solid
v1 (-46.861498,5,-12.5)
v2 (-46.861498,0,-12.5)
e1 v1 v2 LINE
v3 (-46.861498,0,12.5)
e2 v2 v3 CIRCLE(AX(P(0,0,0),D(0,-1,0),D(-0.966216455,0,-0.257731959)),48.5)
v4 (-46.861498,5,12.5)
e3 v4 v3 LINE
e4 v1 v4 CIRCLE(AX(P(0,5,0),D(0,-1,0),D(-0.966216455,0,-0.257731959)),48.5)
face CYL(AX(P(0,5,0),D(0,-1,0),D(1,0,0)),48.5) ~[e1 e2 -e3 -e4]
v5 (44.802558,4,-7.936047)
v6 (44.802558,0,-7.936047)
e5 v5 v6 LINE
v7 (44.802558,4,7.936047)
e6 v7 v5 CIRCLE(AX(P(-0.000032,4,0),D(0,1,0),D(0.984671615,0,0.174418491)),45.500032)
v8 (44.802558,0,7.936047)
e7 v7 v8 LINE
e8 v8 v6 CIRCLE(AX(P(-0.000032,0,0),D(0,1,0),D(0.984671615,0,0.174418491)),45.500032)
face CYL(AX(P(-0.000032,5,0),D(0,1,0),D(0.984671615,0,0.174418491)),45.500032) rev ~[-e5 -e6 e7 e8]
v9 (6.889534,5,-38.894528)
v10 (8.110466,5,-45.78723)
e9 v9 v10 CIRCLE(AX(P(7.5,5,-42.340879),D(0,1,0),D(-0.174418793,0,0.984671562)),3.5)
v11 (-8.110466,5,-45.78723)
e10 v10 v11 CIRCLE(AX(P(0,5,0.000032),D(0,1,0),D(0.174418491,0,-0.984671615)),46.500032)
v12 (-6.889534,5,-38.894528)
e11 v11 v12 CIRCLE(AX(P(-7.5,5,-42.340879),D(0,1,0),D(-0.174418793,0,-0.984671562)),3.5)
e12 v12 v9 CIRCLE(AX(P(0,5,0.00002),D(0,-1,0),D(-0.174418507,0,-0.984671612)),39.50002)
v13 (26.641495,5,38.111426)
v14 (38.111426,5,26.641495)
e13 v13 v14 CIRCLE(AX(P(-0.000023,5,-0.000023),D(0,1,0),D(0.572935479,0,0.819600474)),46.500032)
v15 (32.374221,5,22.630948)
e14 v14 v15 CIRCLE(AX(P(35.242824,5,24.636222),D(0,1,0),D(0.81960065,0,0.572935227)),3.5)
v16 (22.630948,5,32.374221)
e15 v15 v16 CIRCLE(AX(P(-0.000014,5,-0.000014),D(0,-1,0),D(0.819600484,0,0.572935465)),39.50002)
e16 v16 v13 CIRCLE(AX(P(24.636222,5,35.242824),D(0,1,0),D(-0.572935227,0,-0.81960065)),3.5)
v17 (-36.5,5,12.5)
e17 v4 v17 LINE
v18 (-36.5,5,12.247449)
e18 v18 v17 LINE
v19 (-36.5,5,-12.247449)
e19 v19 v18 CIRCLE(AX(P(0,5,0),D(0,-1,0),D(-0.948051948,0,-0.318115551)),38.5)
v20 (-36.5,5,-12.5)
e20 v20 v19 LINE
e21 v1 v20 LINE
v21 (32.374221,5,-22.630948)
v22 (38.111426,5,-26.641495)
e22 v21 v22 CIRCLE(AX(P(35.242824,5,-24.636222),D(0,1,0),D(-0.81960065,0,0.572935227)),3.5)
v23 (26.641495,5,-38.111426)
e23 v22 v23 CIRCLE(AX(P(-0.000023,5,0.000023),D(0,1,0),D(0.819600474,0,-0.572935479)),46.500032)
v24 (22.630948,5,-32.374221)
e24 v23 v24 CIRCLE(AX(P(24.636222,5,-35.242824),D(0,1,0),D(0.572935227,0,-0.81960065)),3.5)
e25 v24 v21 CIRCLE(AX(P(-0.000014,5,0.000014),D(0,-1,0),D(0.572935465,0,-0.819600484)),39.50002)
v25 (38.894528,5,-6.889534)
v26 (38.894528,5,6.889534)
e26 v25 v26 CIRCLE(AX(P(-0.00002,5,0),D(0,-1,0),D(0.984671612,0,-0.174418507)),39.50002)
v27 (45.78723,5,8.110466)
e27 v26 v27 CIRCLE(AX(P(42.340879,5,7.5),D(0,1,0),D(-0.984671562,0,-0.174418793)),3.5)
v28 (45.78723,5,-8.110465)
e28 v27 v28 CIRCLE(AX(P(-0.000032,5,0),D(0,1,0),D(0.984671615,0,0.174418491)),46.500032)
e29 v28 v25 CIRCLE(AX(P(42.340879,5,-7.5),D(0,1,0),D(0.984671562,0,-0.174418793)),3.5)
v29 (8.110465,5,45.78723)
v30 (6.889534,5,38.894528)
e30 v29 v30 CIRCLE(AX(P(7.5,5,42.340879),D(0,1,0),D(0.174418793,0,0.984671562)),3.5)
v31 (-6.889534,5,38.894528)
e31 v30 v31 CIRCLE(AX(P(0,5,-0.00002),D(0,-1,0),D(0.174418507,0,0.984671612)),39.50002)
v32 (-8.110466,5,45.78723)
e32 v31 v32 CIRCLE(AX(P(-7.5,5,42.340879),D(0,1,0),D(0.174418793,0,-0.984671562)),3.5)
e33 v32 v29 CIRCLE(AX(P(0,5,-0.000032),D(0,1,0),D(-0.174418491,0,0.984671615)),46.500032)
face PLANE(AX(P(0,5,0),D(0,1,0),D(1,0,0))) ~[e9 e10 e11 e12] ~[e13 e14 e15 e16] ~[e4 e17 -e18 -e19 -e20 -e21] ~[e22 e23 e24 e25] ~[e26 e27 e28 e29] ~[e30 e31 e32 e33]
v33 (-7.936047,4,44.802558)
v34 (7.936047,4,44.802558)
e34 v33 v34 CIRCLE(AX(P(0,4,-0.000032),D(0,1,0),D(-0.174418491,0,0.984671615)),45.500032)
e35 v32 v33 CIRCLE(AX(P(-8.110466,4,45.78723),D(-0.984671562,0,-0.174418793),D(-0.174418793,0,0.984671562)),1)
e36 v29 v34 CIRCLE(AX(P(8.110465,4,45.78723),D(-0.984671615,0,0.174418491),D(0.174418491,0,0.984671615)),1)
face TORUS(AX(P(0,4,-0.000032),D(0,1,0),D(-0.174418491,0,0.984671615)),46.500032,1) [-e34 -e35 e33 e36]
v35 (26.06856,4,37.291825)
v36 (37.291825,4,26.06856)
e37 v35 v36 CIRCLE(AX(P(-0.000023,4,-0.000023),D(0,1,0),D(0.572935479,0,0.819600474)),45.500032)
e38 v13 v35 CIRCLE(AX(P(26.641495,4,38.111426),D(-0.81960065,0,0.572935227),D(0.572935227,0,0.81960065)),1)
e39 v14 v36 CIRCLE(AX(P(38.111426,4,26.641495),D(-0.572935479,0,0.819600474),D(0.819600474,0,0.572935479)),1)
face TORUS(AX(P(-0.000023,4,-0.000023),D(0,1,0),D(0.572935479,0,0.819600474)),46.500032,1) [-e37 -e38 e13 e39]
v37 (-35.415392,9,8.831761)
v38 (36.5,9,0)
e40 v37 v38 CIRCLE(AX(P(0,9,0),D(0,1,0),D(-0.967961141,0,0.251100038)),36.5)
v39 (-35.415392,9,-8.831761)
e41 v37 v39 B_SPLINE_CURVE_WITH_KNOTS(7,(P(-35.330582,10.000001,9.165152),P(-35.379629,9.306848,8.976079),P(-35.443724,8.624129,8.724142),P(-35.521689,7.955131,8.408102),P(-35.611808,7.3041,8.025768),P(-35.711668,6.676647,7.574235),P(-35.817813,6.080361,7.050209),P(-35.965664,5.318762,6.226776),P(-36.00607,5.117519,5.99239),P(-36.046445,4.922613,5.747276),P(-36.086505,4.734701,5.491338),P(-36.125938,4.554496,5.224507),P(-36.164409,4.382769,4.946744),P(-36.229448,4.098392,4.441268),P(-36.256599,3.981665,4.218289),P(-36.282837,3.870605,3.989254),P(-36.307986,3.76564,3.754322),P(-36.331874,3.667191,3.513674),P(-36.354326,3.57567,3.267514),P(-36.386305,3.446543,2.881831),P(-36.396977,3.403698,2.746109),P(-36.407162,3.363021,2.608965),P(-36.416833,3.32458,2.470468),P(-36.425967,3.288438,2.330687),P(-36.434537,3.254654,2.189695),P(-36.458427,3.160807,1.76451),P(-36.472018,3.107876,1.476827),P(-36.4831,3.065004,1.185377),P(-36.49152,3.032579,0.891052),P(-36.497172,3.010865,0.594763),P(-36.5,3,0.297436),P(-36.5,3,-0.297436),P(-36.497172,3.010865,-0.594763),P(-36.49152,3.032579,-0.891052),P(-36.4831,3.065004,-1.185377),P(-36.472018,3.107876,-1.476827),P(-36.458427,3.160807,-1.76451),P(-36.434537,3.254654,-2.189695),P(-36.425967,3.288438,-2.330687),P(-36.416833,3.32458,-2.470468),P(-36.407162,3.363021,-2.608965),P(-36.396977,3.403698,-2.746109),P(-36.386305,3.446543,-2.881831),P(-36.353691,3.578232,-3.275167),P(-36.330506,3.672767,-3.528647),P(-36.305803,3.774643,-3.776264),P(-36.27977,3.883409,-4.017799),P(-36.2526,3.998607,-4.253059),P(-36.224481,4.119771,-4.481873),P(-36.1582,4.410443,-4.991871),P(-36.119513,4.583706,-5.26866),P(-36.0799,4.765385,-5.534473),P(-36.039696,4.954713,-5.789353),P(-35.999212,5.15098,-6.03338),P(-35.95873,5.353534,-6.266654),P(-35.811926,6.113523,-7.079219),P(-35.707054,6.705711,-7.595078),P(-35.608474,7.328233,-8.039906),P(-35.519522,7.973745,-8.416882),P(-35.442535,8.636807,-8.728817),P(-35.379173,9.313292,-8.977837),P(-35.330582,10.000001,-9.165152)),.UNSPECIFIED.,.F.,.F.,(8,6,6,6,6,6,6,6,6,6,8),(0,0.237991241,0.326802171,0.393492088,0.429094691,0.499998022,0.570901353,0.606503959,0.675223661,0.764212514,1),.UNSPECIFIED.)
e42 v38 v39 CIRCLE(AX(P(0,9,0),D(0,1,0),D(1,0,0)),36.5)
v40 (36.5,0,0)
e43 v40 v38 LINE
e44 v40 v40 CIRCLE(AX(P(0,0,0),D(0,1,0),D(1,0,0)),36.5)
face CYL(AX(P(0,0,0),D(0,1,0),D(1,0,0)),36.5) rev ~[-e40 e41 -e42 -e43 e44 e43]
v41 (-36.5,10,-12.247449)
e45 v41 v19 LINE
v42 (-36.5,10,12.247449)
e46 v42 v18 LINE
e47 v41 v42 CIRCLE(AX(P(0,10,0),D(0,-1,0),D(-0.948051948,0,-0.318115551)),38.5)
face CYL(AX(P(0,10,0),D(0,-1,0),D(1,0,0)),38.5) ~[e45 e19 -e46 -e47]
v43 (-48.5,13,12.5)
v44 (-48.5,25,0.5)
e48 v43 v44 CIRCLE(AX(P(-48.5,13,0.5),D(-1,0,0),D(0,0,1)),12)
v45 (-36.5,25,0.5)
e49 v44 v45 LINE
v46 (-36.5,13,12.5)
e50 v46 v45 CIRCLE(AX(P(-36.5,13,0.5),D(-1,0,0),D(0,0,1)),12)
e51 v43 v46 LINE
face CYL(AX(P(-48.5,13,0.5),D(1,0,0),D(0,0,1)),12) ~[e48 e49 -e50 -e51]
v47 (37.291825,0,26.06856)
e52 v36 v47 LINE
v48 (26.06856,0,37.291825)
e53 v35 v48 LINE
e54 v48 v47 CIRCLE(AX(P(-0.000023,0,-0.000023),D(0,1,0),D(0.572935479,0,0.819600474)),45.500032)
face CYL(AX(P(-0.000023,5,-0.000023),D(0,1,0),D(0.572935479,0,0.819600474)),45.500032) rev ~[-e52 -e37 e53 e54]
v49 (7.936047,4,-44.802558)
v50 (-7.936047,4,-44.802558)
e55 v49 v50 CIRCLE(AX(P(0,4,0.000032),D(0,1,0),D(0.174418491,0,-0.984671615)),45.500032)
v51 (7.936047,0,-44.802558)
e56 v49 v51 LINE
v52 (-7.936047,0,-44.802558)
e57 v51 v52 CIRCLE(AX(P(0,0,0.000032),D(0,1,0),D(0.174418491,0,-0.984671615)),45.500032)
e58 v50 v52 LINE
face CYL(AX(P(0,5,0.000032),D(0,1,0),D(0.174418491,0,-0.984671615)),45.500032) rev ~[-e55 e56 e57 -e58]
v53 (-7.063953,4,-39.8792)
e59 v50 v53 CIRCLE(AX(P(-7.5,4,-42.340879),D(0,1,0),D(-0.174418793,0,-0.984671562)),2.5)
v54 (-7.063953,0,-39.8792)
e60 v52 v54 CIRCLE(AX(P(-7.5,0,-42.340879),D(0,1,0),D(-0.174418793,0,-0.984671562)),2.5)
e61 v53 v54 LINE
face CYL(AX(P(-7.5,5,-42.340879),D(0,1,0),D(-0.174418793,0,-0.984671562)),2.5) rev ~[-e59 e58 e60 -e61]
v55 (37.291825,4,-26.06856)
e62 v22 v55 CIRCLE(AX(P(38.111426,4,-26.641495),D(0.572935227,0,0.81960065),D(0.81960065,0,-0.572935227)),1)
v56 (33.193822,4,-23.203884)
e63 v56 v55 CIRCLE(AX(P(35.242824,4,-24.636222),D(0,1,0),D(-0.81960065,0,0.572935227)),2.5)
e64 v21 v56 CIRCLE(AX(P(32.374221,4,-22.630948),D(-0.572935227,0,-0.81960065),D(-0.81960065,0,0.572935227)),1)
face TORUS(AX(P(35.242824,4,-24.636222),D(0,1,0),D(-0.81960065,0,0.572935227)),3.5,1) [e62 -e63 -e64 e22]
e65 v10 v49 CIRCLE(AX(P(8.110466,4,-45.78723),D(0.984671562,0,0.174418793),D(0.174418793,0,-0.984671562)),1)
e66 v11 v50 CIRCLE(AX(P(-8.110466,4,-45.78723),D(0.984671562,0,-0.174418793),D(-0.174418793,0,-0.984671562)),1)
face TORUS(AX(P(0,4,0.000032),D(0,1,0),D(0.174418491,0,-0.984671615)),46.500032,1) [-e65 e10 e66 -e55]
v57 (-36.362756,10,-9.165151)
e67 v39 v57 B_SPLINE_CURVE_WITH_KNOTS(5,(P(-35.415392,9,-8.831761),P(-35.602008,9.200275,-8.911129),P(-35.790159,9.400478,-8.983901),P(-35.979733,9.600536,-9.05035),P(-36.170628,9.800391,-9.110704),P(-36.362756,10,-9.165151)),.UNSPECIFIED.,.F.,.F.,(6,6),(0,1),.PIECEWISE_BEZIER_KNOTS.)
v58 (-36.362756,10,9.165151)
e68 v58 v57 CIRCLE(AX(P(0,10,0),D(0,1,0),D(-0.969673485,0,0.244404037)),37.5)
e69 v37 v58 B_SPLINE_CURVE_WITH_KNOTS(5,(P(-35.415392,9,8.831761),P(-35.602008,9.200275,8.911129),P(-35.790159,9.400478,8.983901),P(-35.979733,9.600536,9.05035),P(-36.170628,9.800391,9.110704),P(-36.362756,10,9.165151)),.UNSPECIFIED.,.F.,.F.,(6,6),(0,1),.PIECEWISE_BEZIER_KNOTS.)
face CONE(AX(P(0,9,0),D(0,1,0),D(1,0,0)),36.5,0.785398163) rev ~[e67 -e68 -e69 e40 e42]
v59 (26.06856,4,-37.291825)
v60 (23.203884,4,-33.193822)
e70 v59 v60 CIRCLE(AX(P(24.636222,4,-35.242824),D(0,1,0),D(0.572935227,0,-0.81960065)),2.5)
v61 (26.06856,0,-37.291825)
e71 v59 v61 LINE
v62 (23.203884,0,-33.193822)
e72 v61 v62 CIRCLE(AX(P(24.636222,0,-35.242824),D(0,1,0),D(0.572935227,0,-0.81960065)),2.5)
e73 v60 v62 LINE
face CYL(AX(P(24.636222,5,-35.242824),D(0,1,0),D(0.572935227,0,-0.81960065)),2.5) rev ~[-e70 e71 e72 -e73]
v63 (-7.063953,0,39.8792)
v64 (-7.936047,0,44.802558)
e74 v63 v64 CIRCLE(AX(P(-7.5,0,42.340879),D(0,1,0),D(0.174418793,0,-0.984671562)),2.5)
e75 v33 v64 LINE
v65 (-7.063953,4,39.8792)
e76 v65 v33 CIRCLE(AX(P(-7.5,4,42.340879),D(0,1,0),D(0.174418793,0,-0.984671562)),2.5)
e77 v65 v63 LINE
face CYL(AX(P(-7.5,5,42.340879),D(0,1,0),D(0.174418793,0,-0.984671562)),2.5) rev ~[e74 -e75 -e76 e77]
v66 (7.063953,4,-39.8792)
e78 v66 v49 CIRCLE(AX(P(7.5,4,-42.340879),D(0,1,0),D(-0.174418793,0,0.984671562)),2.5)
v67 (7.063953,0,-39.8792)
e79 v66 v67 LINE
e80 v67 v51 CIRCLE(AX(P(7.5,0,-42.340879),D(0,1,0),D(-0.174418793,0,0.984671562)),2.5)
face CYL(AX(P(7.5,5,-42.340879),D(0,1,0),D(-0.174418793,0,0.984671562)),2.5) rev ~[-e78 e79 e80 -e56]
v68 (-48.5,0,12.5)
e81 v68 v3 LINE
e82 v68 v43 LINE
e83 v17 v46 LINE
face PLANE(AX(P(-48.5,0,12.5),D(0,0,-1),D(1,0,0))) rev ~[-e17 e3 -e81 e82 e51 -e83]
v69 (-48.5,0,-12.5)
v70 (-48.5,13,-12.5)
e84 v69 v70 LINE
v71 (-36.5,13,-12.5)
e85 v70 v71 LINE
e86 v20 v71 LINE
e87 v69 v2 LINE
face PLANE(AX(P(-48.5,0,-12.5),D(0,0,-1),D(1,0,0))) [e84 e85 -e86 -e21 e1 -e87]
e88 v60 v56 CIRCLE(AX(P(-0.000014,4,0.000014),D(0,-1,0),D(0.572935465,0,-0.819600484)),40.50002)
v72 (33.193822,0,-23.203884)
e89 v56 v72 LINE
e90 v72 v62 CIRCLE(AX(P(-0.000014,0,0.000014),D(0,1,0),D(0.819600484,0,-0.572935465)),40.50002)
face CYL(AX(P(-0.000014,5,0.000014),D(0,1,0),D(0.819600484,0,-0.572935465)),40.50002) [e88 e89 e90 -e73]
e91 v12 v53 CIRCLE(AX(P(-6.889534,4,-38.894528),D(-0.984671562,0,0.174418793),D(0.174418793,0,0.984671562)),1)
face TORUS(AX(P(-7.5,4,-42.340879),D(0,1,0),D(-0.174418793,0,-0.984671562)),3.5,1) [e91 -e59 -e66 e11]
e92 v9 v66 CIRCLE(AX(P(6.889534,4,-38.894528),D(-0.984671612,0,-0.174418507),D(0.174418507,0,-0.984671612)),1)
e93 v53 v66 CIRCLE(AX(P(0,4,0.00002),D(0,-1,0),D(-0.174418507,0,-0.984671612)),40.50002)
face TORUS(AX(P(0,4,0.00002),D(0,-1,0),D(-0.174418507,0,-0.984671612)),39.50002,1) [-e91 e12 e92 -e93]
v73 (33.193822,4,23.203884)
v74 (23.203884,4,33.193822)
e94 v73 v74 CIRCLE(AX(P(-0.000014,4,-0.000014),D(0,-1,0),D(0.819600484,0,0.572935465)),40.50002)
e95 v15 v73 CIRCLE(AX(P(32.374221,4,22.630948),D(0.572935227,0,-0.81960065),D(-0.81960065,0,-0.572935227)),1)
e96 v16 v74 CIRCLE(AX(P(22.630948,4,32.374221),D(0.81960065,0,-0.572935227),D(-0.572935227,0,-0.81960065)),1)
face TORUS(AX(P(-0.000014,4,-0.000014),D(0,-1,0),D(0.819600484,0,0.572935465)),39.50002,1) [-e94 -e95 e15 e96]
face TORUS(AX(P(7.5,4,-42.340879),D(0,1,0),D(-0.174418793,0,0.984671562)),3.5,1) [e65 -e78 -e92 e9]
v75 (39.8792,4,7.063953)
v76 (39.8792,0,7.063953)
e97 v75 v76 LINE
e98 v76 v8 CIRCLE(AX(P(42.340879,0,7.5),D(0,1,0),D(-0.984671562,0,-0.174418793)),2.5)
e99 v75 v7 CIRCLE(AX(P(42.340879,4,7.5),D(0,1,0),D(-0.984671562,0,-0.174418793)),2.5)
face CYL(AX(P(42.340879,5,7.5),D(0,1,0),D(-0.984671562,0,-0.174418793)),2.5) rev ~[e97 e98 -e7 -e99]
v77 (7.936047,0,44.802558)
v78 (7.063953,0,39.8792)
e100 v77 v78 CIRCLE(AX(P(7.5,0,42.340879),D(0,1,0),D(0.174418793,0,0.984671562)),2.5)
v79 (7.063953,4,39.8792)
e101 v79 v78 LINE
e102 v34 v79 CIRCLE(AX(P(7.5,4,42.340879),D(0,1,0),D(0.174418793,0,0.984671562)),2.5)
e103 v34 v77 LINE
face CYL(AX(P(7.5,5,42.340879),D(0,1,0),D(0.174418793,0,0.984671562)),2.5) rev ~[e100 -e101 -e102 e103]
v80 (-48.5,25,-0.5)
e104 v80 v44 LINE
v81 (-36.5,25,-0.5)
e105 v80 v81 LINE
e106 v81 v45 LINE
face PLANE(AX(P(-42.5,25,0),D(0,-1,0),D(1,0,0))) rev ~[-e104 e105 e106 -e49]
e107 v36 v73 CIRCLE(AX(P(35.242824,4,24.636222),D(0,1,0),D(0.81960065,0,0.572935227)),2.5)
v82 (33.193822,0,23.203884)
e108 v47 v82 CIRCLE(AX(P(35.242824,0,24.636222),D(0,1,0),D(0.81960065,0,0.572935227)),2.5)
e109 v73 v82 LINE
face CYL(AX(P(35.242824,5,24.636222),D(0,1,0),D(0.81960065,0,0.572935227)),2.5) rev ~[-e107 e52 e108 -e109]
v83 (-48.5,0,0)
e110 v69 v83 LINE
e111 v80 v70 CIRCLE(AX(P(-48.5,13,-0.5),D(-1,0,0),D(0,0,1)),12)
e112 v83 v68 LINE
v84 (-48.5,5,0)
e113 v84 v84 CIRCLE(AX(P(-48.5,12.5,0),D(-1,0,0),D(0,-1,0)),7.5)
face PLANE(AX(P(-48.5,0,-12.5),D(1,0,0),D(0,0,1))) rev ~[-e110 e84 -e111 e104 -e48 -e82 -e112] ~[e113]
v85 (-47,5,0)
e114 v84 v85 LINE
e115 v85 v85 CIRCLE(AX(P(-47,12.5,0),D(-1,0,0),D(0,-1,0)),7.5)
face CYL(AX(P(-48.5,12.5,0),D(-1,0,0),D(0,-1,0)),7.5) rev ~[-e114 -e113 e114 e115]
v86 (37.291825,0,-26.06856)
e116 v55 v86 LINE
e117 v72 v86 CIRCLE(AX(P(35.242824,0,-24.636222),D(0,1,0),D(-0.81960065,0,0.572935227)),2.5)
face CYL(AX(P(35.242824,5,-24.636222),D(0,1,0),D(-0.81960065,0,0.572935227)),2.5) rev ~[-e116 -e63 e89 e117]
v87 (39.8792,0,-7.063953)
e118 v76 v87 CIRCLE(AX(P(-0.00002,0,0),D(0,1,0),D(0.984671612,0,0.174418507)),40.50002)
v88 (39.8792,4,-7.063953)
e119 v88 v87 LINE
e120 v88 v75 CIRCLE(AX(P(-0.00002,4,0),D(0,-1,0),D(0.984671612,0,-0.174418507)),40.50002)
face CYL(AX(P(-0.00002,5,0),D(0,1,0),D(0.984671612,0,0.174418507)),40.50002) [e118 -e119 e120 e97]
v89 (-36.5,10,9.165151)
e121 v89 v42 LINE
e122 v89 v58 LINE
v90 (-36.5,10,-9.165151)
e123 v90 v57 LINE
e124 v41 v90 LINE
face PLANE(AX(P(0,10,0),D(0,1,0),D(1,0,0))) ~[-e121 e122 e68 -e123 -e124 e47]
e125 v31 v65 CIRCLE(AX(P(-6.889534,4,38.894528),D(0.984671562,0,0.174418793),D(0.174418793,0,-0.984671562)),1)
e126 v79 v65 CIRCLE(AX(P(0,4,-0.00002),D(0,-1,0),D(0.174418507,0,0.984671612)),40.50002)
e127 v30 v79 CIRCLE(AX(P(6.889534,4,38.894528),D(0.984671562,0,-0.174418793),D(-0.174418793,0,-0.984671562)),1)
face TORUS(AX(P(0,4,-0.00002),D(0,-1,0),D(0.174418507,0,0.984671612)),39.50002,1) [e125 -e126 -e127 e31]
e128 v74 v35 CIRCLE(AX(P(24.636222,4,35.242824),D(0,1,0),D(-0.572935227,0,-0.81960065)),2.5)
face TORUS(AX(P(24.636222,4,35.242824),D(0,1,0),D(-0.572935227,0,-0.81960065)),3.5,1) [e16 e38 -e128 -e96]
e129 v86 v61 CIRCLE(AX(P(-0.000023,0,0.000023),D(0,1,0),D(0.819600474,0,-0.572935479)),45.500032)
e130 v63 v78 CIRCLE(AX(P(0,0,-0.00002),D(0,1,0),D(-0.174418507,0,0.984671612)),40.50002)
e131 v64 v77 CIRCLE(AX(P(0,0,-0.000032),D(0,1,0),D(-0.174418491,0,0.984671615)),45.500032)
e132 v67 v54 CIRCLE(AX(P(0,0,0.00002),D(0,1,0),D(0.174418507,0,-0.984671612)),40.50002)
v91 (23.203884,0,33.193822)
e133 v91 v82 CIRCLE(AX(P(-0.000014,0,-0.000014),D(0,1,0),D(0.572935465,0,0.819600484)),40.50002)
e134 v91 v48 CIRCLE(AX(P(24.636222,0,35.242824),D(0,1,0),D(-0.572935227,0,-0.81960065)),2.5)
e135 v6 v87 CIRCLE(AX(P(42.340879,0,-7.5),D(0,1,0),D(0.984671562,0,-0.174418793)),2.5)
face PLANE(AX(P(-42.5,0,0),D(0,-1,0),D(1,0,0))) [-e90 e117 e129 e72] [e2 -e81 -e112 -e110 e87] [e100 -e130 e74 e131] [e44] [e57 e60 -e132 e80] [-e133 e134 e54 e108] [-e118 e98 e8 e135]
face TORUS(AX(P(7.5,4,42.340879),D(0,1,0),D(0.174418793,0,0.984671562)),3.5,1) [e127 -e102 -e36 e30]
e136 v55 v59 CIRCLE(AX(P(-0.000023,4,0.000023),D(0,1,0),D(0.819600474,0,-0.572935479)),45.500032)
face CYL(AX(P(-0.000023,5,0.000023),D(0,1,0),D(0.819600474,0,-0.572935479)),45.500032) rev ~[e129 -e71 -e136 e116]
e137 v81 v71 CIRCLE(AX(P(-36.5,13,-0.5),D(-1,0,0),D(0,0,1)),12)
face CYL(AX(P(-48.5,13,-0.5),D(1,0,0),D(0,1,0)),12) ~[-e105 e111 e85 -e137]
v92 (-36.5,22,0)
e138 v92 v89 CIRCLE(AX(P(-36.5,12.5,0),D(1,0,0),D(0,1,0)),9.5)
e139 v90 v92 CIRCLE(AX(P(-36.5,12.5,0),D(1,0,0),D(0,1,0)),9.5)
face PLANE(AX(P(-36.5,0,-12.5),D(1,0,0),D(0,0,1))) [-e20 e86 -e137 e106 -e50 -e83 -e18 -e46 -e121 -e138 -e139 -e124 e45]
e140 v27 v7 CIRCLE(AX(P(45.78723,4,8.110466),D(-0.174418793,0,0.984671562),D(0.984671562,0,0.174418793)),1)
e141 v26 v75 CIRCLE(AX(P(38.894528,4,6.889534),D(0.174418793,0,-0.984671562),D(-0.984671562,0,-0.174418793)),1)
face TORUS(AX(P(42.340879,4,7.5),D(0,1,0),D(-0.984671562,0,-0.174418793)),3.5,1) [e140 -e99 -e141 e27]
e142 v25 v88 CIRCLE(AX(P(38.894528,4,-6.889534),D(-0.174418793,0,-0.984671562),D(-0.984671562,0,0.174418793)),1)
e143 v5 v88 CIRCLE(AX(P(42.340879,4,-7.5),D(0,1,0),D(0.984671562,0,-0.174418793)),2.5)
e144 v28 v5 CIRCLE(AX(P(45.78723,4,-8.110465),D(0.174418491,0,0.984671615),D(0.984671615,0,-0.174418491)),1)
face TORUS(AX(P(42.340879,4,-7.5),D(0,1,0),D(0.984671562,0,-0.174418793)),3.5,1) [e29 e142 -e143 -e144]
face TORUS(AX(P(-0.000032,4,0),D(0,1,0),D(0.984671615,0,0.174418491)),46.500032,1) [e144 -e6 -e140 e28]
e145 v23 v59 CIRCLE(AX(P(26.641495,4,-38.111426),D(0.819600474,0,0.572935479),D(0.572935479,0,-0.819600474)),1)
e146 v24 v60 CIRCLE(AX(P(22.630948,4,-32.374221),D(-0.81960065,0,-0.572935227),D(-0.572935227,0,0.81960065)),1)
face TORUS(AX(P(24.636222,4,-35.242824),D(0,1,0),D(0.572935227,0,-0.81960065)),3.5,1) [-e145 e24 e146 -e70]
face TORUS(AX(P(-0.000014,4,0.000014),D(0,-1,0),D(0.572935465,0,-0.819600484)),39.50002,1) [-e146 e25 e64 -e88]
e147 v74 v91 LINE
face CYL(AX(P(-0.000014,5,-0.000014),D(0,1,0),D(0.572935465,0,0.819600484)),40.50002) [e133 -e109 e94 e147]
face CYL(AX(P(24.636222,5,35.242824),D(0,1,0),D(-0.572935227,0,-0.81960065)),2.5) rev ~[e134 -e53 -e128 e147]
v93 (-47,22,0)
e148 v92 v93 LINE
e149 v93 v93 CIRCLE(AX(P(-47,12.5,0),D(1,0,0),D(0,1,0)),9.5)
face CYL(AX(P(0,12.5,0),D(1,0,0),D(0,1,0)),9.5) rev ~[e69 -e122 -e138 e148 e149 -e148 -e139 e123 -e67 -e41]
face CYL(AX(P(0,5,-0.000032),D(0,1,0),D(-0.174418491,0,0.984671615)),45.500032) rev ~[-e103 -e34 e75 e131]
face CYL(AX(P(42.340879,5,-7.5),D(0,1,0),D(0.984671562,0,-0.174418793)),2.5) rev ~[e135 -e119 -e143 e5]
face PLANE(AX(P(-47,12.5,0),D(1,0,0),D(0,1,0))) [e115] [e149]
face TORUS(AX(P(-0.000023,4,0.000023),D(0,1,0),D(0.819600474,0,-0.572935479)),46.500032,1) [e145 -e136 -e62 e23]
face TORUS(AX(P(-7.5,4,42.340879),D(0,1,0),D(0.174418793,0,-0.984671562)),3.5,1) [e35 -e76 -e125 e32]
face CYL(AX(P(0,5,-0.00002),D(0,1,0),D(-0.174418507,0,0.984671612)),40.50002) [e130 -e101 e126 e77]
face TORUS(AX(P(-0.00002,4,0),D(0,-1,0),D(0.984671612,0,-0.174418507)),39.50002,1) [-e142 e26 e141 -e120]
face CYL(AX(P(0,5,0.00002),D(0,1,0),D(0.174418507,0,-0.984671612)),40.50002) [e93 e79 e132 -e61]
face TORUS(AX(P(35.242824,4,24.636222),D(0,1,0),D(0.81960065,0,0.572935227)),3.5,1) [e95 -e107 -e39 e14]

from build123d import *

# Parameters (mm, degrees)
POCKET_DEPTH       = 280.086441
POLARPATTERN_COUNT = 5
POLARPATTERN_ANGLE = 180
SKETCH002_W        = 12
SKETCH002_H        = 25
PAD_DEPTH          = 25
SKETCH003_R        = 7.5
POCKET001_DEPTH    = 40
SKETCH004_R        = 9.5
POCKET002_DEPTH    = 47
FILLET_R           = 12
CHAMFER_SIZE       = 1
FILLET001_R        = 1


with BuildPart() as part:
    # Sketch → Revolution (revolve)
    with BuildSketch(Plane.XY):
        Polygon((36.5, 0), (36.5, 10), (38.5, 10), (38.5, 5), (48.5, 5), (48.5, 0), align=None)
    revolve(axis=Axis((0, 0, 0), (0, 1, 0)))

    # Sketch001 (on Face4 of Revolution) → Pocket (cut, through all)
    with BuildSketch(Plane(origin=(0, 5, 0), x_dir=(-1, 0, 0), z_dir=(0, 1, 0))):
        with BuildLine():
            ThreePointArc((7.063953, 39.8792), (0, 40.5), (-7.063953, 39.8792))
            ThreePointArc((-7.936047, 44.802558), (-9.961679, 41.904832), (-7.063953, 39.8792))
            ThreePointArc((7.936047, 44.802558), (0, 45.5), (-7.936047, 44.802558))
            ThreePointArc((7.063953, 39.8792), (9.961679, 41.904832), (7.936047, 44.802558))
        make_face()
    pocket = extrude(amount=-POCKET_DEPTH, mode=Mode.SUBTRACT)

    # PolarPattern: Pocket ×5 about axis
    polarpattern_axis = Axis((0, 5, 0), (0, 1, 0))
    for i in range(1, POLARPATTERN_COUNT):
        add(pocket.rotate(polarpattern_axis, i * POLARPATTERN_ANGLE / (POLARPATTERN_COUNT - 1)), mode=Mode.SUBTRACT)

    # Sketch002 (on Face2 of PolarPattern) → Pad (join)
    with BuildSketch(Plane.XZ):
        with Locations((-42.5, 0)):
            Rectangle(SKETCH002_W, SKETCH002_H)
    extrude(amount=-PAD_DEPTH)

    # Sketch003 (on Face37 of Pad) → Pocket001 (cut)
    with BuildSketch(Plane(origin=(-48.5, 0, 0), x_dir=(0, -1, 0), z_dir=(-1, 0, 0))):
        with Locations((-12.5, 0)):
            Circle(SKETCH003_R)
    extrude(amount=-POCKET001_DEPTH, mode=Mode.SUBTRACT)

    # Sketch004 → Pocket002 (cut)
    with BuildSketch(Plane.YZ):
        with Locations((12.5, 0)):
            Circle(SKETCH004_R)
    extrude(amount=-POCKET002_DEPTH, mode=Mode.SUBTRACT)

    # Fillet
    fillet_edges = [part.edges().sort_by_distance(p)[0] for p in [
        (-42.5, 25, 12.5),
        (-42.5, 25, -12.5),
    ]]
    fillet(fillet_edges, radius=FILLET_R)

    # Chamfer
    chamfer_edges = [part.edges().sort_by_distance(p)[0] for p in [
        (4.619728, 10, 36.206465),
        (4.619728, 10, -36.206465),
    ]]
    chamfer(chamfer_edges, length=CHAMFER_SIZE)

    # Fillet001
    fillet001_edges = [part.edges().sort_by_distance(p)[0] for p in [
        (-9.961679, 5, 41.904832),
        (0, 5, 40.5),
        (0, 5, 45.5),
        (9.961679, 5, 41.904832),
        (22.58722, 5, 36.675162),
        (28.637825, 5, 28.637825),
        (36.675162, 5, 22.58722),
        (32.173359, 5, 32.173359),
        (41.904832, 5, 9.961679),
        (40.5, 5, 0),
        (41.904832, 5, -9.961679),
        (45.5, 5, 0),
        (36.675162, 5, -22.58722),
        (28.637825, 5, -28.637825),
        (22.58722, 5, -36.675162),
        (32.173359, 5, -32.173359),
        (-9.961679, 5, -41.904832),
        (0, 5, -45.5),
        (0, 5, -40.5),
        (9.961679, 5, -41.904832),
    ]]
    fillet(fillet001_edges, radius=FILLET001_R)


solid = part.part
